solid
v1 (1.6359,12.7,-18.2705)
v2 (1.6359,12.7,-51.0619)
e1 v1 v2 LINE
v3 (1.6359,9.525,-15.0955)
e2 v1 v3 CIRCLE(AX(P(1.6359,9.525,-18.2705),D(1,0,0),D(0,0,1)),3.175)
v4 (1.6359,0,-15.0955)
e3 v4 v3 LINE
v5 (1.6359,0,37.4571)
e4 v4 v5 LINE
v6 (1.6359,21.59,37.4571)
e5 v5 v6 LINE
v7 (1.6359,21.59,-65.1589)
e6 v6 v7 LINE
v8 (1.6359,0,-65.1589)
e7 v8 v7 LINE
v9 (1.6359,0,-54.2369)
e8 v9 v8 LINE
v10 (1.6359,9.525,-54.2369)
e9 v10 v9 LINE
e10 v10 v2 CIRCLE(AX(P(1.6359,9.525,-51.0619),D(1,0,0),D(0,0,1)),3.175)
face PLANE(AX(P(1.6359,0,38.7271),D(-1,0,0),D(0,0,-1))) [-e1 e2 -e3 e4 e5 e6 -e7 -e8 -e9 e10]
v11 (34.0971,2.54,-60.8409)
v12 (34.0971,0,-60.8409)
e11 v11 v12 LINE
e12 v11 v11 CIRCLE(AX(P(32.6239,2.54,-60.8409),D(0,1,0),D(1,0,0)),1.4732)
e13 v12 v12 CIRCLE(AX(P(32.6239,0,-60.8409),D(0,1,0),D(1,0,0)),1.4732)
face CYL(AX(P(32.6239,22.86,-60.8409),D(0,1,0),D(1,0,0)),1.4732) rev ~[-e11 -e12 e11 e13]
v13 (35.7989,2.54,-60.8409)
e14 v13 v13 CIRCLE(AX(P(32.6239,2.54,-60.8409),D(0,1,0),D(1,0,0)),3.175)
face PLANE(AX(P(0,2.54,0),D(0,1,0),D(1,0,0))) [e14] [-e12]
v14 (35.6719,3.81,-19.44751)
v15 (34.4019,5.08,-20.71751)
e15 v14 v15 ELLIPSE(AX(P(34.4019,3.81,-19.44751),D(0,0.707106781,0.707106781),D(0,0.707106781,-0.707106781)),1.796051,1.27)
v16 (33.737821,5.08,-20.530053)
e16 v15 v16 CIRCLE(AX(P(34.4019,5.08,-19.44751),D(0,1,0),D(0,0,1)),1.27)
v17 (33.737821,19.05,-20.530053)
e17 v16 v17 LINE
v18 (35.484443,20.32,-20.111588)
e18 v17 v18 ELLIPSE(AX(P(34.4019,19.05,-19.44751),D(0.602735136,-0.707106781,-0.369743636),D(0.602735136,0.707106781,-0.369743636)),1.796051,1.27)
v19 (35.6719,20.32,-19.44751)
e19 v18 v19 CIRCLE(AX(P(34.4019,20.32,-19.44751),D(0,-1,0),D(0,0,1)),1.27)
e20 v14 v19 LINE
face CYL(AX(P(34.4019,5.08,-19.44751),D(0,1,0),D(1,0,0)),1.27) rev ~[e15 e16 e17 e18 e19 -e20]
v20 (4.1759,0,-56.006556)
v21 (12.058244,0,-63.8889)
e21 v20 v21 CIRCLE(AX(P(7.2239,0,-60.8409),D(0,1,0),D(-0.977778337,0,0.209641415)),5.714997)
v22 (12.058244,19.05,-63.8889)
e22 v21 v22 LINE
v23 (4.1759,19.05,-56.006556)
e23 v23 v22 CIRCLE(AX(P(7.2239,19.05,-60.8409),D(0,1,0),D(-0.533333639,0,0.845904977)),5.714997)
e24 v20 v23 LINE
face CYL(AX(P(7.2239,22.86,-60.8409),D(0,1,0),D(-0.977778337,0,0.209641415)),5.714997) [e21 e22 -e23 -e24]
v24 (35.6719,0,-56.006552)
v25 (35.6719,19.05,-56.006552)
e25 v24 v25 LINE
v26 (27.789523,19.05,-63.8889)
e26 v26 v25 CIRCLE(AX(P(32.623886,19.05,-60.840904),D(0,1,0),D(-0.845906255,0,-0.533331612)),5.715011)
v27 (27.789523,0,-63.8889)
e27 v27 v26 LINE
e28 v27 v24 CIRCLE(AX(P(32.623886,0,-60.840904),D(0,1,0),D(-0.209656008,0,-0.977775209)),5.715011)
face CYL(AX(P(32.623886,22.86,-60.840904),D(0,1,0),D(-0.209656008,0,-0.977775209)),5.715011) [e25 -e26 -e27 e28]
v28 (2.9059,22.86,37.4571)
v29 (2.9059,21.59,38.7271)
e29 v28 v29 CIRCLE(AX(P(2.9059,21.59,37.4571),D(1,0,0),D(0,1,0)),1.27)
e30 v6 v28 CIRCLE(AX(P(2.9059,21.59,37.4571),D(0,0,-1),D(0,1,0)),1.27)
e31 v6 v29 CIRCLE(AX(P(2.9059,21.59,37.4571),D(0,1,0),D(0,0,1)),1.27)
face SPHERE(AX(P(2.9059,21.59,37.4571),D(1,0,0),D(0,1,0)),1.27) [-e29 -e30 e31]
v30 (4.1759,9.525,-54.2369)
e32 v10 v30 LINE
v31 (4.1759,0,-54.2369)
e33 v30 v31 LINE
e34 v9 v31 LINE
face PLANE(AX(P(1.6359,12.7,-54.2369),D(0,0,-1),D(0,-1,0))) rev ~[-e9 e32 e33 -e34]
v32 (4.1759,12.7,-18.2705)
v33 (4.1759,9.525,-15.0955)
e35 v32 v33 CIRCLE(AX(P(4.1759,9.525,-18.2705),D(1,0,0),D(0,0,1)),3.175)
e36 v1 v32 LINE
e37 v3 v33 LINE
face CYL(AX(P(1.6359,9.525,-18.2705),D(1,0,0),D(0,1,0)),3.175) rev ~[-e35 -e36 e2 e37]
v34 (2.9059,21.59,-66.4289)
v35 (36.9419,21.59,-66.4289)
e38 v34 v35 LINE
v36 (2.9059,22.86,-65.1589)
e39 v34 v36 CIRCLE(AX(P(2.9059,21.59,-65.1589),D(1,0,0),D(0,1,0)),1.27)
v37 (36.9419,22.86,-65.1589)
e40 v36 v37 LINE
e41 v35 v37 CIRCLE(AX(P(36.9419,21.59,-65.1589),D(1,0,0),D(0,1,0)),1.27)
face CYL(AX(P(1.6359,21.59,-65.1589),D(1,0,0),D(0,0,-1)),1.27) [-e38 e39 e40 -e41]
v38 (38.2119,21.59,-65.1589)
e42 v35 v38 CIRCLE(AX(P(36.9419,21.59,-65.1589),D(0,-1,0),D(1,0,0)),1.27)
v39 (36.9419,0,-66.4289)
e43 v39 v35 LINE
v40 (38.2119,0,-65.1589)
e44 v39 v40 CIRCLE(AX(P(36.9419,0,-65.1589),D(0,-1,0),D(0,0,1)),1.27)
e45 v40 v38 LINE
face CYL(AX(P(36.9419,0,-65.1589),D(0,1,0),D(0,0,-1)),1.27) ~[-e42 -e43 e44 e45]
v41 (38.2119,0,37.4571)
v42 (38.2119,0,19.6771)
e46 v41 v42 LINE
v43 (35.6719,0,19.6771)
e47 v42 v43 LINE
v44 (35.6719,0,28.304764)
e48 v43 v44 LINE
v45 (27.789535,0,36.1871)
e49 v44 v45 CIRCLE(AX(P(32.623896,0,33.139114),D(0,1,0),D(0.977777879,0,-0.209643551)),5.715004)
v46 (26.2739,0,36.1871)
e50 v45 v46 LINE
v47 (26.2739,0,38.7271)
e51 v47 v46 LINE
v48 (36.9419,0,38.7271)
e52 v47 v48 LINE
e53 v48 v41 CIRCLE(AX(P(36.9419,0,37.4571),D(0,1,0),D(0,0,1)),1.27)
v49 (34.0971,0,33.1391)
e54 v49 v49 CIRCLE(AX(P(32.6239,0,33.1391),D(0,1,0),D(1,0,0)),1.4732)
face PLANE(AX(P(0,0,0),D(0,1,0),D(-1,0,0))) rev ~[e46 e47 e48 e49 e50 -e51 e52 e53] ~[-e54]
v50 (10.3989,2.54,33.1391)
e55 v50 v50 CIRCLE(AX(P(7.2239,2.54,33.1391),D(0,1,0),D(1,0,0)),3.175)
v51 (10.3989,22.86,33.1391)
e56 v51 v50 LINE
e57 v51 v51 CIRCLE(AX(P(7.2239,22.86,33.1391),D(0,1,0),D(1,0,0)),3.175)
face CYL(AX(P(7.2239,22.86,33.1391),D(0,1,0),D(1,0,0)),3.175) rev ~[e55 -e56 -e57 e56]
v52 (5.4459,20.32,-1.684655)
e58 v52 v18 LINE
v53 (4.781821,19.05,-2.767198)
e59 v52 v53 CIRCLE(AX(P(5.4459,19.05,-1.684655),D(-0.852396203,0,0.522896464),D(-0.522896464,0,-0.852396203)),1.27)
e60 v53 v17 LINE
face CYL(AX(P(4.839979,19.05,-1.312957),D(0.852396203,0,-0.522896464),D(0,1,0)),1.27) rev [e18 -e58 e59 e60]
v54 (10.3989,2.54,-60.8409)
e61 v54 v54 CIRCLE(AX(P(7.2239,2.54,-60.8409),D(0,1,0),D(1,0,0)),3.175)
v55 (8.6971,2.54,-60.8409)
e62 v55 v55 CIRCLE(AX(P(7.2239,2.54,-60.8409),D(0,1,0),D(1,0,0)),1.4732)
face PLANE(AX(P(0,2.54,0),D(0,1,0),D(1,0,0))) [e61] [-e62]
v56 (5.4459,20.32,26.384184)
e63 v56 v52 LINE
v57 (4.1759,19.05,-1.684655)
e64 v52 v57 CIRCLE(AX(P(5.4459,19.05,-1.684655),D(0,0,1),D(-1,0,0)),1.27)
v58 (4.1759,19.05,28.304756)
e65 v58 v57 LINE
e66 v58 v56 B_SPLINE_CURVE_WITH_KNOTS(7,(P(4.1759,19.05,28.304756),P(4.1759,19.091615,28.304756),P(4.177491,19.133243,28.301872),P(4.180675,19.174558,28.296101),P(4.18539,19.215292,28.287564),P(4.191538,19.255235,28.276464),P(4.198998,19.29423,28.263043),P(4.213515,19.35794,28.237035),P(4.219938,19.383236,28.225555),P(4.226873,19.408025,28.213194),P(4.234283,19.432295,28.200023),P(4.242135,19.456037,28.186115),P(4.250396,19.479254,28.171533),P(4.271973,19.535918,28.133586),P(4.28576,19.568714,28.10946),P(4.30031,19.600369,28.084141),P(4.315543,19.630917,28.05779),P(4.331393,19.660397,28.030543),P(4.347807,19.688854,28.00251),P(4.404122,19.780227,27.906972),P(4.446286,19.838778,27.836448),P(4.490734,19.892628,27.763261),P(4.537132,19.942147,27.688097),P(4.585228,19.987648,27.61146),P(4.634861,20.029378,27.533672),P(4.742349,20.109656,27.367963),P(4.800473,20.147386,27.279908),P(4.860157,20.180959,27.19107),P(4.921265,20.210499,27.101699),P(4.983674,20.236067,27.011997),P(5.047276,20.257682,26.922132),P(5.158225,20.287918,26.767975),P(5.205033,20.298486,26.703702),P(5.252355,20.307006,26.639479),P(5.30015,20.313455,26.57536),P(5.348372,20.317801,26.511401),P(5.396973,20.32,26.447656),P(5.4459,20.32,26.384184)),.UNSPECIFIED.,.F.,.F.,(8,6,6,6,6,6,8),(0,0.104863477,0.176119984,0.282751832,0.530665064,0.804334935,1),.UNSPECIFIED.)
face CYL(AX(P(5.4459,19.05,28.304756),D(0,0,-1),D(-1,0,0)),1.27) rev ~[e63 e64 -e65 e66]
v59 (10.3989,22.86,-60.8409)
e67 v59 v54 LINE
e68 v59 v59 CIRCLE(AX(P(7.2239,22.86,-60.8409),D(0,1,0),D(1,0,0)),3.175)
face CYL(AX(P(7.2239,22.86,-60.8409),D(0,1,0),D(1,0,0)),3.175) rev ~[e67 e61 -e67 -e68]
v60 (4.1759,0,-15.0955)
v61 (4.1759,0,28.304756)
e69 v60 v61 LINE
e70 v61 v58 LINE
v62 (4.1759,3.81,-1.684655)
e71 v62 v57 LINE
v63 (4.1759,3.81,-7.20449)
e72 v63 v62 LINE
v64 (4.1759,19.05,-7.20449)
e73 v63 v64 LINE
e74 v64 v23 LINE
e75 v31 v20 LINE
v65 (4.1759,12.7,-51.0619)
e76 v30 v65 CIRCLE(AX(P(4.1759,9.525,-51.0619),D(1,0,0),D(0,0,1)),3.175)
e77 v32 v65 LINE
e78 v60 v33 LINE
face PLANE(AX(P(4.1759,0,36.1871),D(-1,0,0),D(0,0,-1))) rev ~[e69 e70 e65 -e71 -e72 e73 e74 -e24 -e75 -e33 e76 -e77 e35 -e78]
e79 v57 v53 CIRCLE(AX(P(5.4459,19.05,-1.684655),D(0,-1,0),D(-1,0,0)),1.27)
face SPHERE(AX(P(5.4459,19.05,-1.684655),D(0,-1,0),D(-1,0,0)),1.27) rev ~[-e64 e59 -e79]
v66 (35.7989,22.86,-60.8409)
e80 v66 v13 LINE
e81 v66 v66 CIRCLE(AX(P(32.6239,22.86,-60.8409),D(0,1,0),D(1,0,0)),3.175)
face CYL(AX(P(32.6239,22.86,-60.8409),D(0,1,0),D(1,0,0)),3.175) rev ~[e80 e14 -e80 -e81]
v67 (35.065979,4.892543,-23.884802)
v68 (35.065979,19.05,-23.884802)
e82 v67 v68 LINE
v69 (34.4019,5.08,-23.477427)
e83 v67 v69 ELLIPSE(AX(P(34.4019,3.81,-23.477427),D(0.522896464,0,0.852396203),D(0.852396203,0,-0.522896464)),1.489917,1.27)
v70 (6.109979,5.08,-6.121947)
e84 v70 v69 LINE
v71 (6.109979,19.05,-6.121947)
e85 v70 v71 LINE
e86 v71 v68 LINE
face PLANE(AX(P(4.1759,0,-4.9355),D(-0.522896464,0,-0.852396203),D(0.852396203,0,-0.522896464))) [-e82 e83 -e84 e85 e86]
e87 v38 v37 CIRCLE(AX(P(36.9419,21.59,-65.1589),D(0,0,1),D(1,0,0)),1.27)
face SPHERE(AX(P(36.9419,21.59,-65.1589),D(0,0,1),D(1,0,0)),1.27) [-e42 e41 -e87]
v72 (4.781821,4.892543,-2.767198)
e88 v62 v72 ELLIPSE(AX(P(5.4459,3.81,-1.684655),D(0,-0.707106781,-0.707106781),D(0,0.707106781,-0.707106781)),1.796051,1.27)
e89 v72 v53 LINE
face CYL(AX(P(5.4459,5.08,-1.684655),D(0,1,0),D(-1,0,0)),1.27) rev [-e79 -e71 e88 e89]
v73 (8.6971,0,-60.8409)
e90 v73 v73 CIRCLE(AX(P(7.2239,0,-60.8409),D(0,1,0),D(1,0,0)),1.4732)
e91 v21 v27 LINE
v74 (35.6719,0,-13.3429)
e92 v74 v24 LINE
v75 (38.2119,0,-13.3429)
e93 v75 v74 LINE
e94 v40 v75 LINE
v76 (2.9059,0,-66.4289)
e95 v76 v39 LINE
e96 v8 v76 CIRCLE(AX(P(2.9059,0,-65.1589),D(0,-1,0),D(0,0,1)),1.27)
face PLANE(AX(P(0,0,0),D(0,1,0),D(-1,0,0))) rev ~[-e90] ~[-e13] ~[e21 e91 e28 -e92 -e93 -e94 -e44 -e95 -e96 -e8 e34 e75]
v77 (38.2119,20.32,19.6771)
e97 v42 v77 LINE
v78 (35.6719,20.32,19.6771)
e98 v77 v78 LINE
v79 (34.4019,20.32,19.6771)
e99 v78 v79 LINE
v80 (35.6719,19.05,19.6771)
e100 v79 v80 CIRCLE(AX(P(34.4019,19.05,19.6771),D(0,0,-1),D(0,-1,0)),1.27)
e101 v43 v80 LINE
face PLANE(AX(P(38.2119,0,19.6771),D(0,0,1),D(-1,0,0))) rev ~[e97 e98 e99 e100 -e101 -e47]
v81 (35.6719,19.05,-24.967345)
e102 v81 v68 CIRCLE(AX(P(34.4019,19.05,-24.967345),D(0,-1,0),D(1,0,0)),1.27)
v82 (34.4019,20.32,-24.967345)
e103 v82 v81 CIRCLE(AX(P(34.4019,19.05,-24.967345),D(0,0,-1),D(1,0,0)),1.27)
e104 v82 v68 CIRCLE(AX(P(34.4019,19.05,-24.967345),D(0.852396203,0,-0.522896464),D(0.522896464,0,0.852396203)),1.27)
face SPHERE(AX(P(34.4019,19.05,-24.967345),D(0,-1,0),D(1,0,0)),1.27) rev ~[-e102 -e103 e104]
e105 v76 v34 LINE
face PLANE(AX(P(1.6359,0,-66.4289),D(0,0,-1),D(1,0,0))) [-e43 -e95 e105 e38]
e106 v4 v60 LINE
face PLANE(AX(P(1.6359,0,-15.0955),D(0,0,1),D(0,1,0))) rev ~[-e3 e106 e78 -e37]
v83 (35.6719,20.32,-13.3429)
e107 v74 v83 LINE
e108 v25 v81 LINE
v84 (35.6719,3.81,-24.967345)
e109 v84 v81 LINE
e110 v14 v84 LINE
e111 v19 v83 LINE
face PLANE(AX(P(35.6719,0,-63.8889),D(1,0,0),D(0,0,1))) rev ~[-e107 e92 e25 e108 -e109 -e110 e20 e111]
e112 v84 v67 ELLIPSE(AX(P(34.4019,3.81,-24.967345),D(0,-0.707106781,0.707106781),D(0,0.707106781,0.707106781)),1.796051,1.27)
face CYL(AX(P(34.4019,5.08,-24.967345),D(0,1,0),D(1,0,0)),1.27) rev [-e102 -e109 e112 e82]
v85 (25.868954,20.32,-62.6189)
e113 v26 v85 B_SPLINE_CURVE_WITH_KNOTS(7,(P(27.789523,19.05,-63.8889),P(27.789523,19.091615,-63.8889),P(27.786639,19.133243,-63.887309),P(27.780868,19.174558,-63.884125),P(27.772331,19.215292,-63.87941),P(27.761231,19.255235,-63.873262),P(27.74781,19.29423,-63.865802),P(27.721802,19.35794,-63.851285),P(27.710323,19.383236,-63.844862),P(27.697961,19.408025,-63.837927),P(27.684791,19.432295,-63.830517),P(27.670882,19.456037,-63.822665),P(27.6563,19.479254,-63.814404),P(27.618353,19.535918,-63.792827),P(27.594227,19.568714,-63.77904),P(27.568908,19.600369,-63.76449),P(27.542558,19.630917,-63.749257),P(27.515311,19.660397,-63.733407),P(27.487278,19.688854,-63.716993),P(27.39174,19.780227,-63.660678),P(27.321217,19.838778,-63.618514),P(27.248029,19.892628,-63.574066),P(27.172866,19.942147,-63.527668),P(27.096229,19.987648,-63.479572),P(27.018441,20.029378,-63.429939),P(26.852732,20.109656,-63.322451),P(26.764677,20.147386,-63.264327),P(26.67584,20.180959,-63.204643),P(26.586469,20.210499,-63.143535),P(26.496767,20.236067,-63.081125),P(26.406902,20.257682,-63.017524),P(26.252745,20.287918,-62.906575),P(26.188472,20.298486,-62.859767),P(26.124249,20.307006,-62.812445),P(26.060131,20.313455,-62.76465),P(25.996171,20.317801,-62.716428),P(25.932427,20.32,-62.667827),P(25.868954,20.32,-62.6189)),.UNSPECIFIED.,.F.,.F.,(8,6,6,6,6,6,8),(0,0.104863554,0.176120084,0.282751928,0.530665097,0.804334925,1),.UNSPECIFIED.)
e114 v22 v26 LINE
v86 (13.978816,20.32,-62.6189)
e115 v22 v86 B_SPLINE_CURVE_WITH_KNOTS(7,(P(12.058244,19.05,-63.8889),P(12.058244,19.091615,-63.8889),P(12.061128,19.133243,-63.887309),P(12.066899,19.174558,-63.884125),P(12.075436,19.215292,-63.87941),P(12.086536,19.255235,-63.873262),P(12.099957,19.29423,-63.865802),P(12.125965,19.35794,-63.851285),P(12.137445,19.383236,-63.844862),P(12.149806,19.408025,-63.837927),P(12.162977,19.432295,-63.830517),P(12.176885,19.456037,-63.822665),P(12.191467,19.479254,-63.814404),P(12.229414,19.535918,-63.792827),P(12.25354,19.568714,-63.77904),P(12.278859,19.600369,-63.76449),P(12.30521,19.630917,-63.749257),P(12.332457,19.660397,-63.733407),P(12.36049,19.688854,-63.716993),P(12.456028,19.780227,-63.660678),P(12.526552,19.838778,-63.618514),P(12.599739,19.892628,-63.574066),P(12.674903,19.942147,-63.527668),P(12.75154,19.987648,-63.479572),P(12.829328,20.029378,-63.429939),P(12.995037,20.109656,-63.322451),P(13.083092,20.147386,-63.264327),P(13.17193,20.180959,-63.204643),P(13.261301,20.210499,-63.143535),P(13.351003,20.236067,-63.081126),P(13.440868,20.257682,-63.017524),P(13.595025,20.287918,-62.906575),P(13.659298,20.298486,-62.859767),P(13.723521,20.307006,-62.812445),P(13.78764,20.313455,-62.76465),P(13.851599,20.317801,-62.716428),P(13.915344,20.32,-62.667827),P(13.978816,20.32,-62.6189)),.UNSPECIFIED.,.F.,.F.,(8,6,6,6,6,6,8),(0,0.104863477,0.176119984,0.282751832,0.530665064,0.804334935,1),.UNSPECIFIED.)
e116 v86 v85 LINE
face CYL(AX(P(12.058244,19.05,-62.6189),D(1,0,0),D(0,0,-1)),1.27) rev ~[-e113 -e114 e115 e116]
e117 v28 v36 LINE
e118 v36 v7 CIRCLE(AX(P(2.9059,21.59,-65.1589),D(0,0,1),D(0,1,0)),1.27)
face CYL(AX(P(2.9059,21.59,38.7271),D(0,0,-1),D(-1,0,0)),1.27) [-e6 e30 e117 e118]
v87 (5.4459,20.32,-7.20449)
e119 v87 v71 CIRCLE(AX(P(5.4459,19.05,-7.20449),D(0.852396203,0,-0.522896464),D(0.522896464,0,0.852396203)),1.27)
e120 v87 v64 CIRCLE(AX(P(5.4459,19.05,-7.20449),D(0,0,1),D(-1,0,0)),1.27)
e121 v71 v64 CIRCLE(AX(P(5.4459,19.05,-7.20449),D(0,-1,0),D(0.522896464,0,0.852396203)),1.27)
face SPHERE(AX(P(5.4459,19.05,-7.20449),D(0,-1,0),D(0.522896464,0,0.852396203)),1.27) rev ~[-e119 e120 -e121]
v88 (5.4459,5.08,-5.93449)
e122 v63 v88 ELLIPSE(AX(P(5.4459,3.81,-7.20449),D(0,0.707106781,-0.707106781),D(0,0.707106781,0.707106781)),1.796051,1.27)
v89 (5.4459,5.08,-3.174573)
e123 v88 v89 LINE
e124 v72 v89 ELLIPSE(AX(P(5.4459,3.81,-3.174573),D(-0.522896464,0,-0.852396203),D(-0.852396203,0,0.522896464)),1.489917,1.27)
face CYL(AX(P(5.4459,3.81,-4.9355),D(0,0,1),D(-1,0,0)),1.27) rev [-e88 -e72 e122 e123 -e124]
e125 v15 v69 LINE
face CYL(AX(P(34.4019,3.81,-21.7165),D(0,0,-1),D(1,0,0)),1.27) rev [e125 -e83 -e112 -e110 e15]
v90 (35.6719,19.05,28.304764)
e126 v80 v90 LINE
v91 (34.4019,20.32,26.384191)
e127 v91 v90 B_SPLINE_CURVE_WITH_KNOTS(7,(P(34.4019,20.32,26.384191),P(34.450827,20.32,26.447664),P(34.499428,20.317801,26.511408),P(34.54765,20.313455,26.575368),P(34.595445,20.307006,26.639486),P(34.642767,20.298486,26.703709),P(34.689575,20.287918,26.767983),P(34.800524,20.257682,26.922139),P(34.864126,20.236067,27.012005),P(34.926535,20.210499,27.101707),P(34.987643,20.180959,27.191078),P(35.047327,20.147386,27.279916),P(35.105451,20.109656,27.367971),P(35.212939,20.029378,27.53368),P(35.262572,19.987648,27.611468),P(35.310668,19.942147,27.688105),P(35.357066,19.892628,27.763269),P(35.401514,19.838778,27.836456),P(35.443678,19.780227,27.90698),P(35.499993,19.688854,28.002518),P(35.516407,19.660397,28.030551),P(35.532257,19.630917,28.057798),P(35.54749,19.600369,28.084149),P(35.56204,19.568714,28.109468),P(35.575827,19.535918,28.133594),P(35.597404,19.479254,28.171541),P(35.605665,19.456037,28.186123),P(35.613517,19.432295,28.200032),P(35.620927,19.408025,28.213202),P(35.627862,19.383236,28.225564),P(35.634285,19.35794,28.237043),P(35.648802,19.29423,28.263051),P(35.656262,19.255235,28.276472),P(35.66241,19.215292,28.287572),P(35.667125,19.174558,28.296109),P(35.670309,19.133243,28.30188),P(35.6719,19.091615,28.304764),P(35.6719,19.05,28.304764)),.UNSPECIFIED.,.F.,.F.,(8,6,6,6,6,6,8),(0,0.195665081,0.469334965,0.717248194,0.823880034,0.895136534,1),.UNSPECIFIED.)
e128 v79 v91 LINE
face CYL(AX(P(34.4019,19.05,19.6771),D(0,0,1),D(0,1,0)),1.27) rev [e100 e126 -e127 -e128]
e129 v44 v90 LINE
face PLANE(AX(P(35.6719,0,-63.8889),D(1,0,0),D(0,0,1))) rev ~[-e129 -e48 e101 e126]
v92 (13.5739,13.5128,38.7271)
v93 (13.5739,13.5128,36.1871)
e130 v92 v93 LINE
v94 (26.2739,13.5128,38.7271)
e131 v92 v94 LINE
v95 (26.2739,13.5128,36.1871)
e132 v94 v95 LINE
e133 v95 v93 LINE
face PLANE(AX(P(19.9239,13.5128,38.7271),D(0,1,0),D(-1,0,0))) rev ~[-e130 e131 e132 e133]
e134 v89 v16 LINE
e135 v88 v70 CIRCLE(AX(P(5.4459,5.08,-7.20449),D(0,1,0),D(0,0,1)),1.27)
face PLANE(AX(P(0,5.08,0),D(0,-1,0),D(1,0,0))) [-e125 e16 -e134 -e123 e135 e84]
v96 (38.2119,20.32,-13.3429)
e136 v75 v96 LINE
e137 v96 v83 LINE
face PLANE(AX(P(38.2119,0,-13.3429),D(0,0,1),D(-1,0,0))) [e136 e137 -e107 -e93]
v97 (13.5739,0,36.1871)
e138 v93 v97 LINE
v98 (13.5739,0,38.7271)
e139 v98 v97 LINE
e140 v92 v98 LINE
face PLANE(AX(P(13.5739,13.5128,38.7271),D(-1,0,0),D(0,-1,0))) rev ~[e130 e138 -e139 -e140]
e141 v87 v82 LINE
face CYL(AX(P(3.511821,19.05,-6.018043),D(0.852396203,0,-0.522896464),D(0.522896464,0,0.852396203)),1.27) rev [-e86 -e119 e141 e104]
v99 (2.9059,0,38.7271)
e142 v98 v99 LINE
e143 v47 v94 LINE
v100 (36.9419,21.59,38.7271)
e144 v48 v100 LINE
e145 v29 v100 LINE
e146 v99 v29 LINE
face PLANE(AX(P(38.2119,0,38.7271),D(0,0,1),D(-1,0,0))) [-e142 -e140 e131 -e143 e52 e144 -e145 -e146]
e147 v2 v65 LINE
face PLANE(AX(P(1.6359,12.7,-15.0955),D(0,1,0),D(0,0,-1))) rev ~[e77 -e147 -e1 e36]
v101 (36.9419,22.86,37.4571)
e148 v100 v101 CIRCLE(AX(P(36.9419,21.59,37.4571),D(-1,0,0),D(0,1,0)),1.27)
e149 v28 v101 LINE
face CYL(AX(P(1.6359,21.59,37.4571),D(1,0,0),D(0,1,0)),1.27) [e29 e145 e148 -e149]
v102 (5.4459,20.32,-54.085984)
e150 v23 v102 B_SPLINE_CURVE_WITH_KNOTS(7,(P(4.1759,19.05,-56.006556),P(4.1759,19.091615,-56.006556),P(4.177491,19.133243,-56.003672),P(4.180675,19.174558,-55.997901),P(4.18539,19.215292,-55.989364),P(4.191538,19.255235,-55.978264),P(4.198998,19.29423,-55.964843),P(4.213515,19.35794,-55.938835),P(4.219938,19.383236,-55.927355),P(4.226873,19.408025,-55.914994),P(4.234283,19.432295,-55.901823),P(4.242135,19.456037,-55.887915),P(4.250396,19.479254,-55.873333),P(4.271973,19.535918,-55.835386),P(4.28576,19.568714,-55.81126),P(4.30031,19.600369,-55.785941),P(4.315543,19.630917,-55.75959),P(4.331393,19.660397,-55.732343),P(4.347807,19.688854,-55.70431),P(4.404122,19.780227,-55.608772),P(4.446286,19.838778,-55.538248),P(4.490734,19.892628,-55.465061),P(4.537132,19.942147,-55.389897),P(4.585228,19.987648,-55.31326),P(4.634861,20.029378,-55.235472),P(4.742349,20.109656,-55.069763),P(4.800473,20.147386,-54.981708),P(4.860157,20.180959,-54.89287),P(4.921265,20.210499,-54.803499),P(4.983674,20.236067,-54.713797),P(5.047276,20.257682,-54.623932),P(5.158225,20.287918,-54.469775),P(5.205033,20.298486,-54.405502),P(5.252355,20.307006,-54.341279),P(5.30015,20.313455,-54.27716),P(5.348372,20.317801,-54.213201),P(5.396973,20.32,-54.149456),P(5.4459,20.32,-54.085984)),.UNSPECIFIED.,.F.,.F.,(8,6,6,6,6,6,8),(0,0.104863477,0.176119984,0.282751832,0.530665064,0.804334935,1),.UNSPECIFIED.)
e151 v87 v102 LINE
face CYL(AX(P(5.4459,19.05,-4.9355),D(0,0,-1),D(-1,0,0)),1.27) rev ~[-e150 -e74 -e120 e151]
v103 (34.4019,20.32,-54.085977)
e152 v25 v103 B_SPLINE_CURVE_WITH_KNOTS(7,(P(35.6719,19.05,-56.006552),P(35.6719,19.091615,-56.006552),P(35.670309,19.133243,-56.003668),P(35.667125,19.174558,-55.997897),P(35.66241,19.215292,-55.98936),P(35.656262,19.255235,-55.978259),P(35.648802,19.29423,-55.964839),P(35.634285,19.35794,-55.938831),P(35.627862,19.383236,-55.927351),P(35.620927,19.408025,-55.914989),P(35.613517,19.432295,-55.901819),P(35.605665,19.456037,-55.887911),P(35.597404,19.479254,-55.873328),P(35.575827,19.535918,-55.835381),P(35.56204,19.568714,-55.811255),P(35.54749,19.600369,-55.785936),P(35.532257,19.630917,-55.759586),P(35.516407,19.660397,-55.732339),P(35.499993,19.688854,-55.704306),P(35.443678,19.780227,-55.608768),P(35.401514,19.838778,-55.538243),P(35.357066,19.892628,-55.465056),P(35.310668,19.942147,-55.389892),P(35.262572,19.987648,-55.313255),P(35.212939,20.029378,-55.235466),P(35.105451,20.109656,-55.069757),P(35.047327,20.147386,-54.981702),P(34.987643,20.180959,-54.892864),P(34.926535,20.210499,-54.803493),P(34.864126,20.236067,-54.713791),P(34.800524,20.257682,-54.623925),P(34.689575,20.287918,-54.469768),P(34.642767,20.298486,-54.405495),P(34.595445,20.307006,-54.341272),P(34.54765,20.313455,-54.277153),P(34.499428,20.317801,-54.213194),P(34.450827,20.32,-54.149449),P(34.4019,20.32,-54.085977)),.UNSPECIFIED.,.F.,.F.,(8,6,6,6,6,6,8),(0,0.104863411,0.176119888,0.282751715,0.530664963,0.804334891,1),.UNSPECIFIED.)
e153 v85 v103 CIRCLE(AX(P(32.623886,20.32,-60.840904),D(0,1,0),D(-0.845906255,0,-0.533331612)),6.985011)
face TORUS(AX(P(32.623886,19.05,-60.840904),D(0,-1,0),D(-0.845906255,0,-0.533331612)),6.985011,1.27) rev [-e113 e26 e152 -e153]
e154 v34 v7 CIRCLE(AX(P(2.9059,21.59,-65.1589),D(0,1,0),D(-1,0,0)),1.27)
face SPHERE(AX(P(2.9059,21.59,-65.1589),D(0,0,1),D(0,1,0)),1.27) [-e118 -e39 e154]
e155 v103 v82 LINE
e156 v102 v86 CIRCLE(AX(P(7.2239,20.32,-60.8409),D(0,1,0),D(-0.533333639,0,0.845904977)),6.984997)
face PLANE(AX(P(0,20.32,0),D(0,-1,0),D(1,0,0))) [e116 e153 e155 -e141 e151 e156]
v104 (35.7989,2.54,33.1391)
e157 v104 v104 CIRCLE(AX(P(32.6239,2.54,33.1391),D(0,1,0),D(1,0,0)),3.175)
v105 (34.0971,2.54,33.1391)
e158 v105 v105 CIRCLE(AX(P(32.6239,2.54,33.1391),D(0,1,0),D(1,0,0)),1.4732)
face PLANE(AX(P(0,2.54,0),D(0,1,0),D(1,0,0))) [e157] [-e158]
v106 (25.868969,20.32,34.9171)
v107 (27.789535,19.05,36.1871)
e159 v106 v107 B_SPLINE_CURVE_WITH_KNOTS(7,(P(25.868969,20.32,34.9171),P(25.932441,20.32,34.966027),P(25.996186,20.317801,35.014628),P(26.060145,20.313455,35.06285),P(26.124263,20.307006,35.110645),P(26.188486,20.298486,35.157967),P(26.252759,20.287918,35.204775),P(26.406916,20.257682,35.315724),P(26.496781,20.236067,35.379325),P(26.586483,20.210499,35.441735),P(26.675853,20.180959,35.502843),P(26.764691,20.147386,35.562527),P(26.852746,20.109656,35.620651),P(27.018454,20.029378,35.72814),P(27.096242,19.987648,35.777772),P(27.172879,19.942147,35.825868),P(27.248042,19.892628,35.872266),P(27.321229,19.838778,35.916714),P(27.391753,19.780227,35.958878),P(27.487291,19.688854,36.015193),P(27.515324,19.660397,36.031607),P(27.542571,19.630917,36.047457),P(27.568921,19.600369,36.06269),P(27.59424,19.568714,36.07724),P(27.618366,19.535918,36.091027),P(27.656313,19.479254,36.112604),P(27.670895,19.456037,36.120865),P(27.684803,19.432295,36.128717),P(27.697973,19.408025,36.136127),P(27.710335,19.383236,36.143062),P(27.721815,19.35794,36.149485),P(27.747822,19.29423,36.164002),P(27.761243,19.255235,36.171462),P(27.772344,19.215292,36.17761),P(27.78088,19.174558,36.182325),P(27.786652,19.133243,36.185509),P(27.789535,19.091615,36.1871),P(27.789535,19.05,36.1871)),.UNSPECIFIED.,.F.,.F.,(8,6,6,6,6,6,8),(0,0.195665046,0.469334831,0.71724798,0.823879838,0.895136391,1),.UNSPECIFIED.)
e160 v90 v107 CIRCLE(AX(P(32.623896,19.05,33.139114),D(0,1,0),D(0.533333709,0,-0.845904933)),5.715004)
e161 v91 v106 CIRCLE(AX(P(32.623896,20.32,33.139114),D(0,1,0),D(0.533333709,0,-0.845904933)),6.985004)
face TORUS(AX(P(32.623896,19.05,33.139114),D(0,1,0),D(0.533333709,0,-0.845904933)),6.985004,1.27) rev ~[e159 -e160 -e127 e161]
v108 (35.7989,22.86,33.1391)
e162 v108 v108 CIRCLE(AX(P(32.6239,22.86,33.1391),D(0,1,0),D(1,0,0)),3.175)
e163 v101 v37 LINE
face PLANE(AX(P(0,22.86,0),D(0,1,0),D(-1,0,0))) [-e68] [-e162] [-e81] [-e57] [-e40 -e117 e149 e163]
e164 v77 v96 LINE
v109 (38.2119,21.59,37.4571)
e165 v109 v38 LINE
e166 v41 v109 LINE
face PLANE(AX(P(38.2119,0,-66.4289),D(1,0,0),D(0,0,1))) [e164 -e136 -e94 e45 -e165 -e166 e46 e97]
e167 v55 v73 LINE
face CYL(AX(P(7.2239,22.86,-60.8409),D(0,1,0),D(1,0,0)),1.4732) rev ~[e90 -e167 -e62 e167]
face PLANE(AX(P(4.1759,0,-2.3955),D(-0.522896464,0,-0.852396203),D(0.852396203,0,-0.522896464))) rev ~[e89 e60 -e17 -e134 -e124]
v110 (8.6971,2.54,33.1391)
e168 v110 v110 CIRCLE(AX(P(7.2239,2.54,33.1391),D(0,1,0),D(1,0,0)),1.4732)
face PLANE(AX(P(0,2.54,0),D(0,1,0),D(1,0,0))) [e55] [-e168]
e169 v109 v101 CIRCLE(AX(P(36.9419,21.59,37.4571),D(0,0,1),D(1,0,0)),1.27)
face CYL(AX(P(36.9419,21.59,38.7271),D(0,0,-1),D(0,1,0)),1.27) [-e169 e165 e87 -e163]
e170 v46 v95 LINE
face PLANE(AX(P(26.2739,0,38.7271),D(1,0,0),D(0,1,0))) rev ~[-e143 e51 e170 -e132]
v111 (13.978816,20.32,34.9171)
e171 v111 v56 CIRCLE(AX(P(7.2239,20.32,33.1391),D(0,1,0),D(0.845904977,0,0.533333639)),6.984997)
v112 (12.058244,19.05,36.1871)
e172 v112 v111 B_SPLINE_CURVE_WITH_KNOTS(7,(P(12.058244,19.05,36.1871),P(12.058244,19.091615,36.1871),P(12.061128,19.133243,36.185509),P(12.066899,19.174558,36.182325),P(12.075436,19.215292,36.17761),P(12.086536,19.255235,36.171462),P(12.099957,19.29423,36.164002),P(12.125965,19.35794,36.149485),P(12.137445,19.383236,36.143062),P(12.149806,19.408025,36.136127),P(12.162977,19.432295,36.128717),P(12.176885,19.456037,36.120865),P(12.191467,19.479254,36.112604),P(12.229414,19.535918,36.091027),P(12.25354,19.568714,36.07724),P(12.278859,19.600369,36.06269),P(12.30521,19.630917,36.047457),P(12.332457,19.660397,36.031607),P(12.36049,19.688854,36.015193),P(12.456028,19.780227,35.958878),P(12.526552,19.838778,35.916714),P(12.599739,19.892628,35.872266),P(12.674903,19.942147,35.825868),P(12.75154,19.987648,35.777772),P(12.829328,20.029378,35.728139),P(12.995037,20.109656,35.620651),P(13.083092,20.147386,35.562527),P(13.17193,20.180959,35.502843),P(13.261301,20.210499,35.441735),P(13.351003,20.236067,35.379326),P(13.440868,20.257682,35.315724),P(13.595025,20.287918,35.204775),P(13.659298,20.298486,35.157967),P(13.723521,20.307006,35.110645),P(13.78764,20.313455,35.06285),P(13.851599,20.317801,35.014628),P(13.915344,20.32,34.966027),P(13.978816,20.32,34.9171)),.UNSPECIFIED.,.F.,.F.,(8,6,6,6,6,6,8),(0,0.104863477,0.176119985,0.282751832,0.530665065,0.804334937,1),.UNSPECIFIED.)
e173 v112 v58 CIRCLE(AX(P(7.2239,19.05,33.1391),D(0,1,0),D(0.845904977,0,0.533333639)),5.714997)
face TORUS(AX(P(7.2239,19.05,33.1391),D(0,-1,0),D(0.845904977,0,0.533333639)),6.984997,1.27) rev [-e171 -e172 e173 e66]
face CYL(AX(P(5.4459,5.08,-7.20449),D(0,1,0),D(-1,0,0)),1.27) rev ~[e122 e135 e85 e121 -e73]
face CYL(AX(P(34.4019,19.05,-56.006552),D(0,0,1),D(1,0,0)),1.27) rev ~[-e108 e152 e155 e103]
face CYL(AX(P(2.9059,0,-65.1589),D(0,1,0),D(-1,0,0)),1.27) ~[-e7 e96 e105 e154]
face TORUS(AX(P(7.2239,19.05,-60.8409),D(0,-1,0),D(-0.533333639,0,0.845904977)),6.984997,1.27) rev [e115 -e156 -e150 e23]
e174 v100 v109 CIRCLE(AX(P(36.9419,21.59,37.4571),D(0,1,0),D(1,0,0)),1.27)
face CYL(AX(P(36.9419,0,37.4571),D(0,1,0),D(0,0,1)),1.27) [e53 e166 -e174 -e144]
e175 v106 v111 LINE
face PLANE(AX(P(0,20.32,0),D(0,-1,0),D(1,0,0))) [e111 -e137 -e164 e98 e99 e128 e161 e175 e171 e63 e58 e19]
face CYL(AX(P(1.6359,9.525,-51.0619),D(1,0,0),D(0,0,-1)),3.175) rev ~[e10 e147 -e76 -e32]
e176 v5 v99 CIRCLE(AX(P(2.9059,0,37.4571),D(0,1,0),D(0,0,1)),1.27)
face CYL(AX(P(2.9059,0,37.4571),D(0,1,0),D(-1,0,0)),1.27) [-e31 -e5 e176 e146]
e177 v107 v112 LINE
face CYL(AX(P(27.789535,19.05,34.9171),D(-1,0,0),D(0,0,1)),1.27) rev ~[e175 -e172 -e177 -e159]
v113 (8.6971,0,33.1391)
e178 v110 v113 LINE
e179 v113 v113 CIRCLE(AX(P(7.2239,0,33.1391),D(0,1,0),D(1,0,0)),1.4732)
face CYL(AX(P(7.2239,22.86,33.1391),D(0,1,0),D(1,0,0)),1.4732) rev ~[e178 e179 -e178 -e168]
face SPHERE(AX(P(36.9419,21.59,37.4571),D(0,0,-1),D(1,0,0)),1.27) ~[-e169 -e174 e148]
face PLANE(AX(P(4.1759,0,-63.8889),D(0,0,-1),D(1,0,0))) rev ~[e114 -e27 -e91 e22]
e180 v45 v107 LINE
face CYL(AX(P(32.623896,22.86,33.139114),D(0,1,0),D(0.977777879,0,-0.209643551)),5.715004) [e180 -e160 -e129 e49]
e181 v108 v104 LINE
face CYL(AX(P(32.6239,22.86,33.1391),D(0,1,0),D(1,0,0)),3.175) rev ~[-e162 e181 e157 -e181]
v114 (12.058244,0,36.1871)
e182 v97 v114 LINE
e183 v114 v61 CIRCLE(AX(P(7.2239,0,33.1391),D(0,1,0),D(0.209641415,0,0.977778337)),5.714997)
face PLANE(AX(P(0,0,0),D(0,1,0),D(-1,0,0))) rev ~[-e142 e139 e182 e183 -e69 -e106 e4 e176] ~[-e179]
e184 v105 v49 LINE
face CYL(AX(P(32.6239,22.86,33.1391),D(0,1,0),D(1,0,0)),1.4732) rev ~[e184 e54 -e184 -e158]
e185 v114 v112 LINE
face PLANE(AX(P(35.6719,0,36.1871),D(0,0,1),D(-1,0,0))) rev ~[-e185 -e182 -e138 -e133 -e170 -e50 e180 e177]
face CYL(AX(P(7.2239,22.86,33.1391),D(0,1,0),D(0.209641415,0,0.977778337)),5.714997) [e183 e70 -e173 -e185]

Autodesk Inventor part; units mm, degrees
ref_plane "YZ Plane" through (0, 0, 0) normal (1, 0, 0) x (0, 1, 0)
ref_plane "XZ Plane" through (0, 0, 0) normal (0, 1, 0) x (-1, 0, 0)
ref_plane "XY Plane" through (0, 0, 0) normal (0, 0, 1) x (1, 0, 0)
sketch "Sketch1" plane through (0, 0, 0) normal (0, 1, 0) x (-1, 0, 0)
  line L0 (-4.1759, -63.8889) -> (-35.6719, -63.8889)
  line L1 (-35.6719, -63.8889) -> (-35.6719, 36.1871)
  line L2 (-35.6719, 36.1871) -> (-4.1759, 36.1871)
  line L3 (-4.1759, 36.1871) -> (-4.1759, -63.8889)
  line L4 (-1.6359, -66.4289) -> (-38.2119, -66.4289)
  line L5 (-38.2119, -66.4289) -> (-38.2119, 38.7271)
  line L6 (-38.2119, 38.7271) -> (-1.6359, 38.7271)
  line L7 (-1.6359, 38.7271) -> (-1.6359, -66.4289)
  point P0 (0, 0)
  dimension "d0" = 100.076
  dimension "d1" = 31.496
  dimension "d2" = 2.54
  dimension "d3" = 2.54
  dimension "d4" = 2.54
  dimension "d5" = 2.54
extrude "Extrusion1" add sketch "Sketch1" along normal blind 22.86 contours L0 L1 L2 L3 | L4 L5 L6 L7
extrude "Extrusion2" cut sketch "Sketch1" along normal blind 20.32 contours L0 L1 L2 L3
sketch "Sketch2" plane through (0, 0, 0) normal (0, -1, 0) x (1, 0, 0)
  line L0 (35.6719, 36.1871) -> (35.6719, -63.8889) projected
  line L1 (38.2119, 38.7271) -> (38.2119, -66.4289) projected
  line L2 (38.2119, 19.6771) -> (35.6719, 19.6771)
  line L3 (38.2119, -13.3429) -> (35.6719, -13.3429)
  line L4 (4.1759, 36.1871) -> (35.6719, 36.1871) projected
  point P0 (0, 0)
  point P1 (36.9419, 19.6771)
  point P2 (36.9419, -13.3429)
  dimension "d10" = 16.51
  dimension "d11" = 33.02
extrude "Extrusion3" cut sketch "Sketch2" against normal blind 20.32
sketch "Sketch3" plane through (1.6359, 0, 38.7271) normal (0, 0, 1) x (1, 0, 0)
  line L0 (11.938, 0) -> (24.638, 0)
  line L1 (24.638, 0) -> (24.638, 13.5128)
  line L2 (24.638, 13.5128) -> (11.938, 13.5128)
  line L3 (11.938, 13.5128) -> (11.938, 0)
  line L4 (0, 0) -> (0, 22.86) projected
  line L5 (36.576, 0) -> (36.576, 22.86) projected
  line L6 (36.576, 22.86) -> (0, 22.86) projected
  line L7 (18.288, 22.86) -> (18.288, 0)
  point P0 (-1.6359, 0)
  dimension "d16" = 13.5128
  dimension "d17" = 12.7
  dimension "d18" = 12.7
extrude "Extrusion4" cut sketch "Sketch3" against normal blind 2.54
sketch "Sketch4" plane through (1.6359, 0, -66.4289) normal (-1, 0, 0) x (0, 0, 1)
  line L0 (12.192, 0) -> (51.3334, 0)
  line L1 (51.3334, 0) -> (51.3334, 12.7)
  line L2 (51.3334, 12.7) -> (12.192, 12.7)
  line L3 (12.192, 12.7) -> (12.192, 0)
  line L4 (0, 0) -> (0, 22.86) projected
  point P0 (66.4289, 0)
  point P1 (31.7627, 0)
  dimension "d21" = 12.192
  dimension "d22" = 12.7
  dimension "d23" = 39.1414
extrude "Extrusion5" cut sketch "Sketch4" against normal blind 2.54
sketch "Sketch5" plane through (0, 22.86, 0) normal (0, 1, 0) x (1, 0, 0)
  circle A0 centre (32.6239, -33.1391) radius 1.4732
  line L0 (38.2119, -38.7271) -> (38.2119, 66.4289) projected
  line L1 (1.6359, -38.7271) -> (38.2119, -38.7271) projected
  line L2 (1.6359, 66.4289) -> (1.6359, -38.7271) projected
  line L3 (1.6359, 13.8509) -> (38.2119, 13.8509)
  line L4 (19.9239, 66.4289) -> (19.9239, -38.7271)
  circle A1 centre (7.2239, -33.1391) radius 1.4732
  circle A2 centre (32.6239, 60.8409) radius 1.4732
  circle A3 centre (7.2239, 60.8409) radius 1.4732
  circle A4 centre (32.6239, -33.1391) radius 3.175
  line L5 (38.2119, -31.941) -> (38.2119, -34.3372)
  line L6 (31.4257, -38.7271) -> (33.822, -38.7271)
  arc A5 (38.2119, -31.941) -> (31.4257, -38.7271) centre (32.6239, -33.1391) ccw
  line L7 (38.2119, -34.3372) -> (38.2119, -38.7271)
  line L8 (38.2119, -38.7271) -> (33.822, -38.7271)
  line L9 (38.2119, -38.7271) -> (1.6359, -38.7271)
  circle A6 centre (7.2239, -33.1391) radius 3.175
  line L10 (1.6359, -31.941) -> (1.6359, -34.3372)
  arc A7 (8.422, -38.7271) -> (1.6359, -31.941) centre (7.2239, -33.1391) ccw
  line L11 (1.6359, -34.3372) -> (1.6359, -38.7271)
  line L12 (38.2119, 66.4289) -> (38.2119, -38.7271)
  line L13 (1.6359, -38.7271) -> (1.6359, 66.4289)
  circle A8 centre (32.6239, 60.8409) radius 3.175
  arc A9 (31.4257, 66.4289) -> (38.2119, 59.6428) centre (32.6239, 60.8409) ccw
  circle A10 centre (7.2239, 60.8409) radius 3.175
  arc A11 (1.6359, 59.6428) -> (8.422, 66.4289) centre (7.2239, 60.8409) ccw
  line L14 (38.2119, 66.4289) -> (1.6359, 66.4289)
  point P0 (0, 0)
  point P1 (1.6359, 59.6428)
  point P2 (38.2119, 59.6428)
  point P3 (8.422, -38.7271)
  point P4 (1.6359, -31.941)
  dimension "d27" = 2.9464
  dimension "d28" = 5.588
  dimension "d29" = 5.588
  dimension "d30" = 6.35
extrude "Extrusion6" add sketch "Sketch5" against normal up to surface (22.86 mm away) contours A0 | L1 A5 L0 | A9 L14 L0 | L1 L2 A7 | L2 L14 A11 | A1 | A2 | A3 | A4 | A6 | A8 | A10
extrude "Extrusion7" cut sketch "Sketch5" against normal blind 20.32 contours A0 | A1 | A2 | A3 | A4 | A6 | A8 | A10
extrude "Extrusion8" cut sketch "Sketch5" against normal blind 22.86 contours A0 | A1 | A2 | A3
fillet "Fillet2" radius 3.175 2 edges at (2.9059, 12.7, -54.2369) (2.9059, 12.7, -15.0955)
fillet "Fillet3" radius 1.27 8 edges at (38.2119, 22.86, -13.8509) (38.2119, 11.43, 38.7271) (19.9239, 22.86, 38.7271) (1.6359, 22.86, -13.8509) (38.2119, 11.43, -66.4289) (19.9239, 22.86, -66.4289) (1.6359, 11.43, 38.7271) (1.6359, 11.43, -66.4289)
sketch "Sketch8" plane through (0, 0, 0) normal (0, -1, 0) x (1, 0, 0)
  line L0 (1.6359, -15.0955) -> (4.1759, -15.0955) projected
  line L1 (4.1759, -15.0955) -> (17.1299, -15.0955)
  line L2 (17.1299, -15.0955) -> (17.1299, -54.5295)
  line L3 (17.1299, -54.5295) -> (4.1759, -54.5295)
  line L4 (4.1759, -54.5295) -> (4.1759, -15.0955)
  line L5 (35.6719, -13.3429) -> (35.6719, -56.0065) projected
  line L6 (35.6719, -13.3429) -> (24.7499, -13.3429)
  line L7 (24.7499, -13.3429) -> (24.7499, 19.5815)
  line L8 (24.7499, 19.5815) -> (35.6719, 19.5815)
  line L9 (35.6719, 19.5815) -> (35.6719, -13.3429)
  line L10 (4.1759, -4.9355) -> (35.6719, -24.2565)
  line L11 (4.1759, -4.9355) -> (4.1759, -2.3955)
  line L12 (2.9059, 37.4571) -> (2.9059, -65.1589) projected
  line L13 (35.6719, -24.2565) -> (35.6719, -21.7165)
  line L14 (4.1759, -2.3955) -> (35.6719, -21.7165)
  point P0 (0, 0)
  point P1 (24.7499, 3.1193)
  dimension "d44" = 10.922
  dimension "d45" = 12.954
  dimension "d46" = 2.54
  dimension "d47" = 2.54
  dimension "d48" = 31.75
  dimension "d49" = 10.16
extrude "Extrusion11" add sketch "Sketch8" against normal blind 20.32 contours L5 L10 L11 L14
extrude "Extrusion12" cut sketch "Sketch8" against normal blind 5.08 contours L5 L10 L11 L14
fillet "Fillet4" radius 1.27 18 edges at (4.1759, 12.7, -2.3955) (4.1759, 20.32, 12.9546) (19.9239, 20.32, -12.056) (4.1759, 5.08, -3.6655) (19.9239, 20.32, -14.596) (35.6719, 12.7, -24.2565) (35.6719, 5.08, -22.9865) (35.6719, 20.32, -40.1315) (35.6719, 20.32, 23.9909) (28.5827, 20.32, 29.098) (19.9239, 20.32, 36.1871) (19.9239, 20.32, -63.8889) (28.5827, 20.32, -56.7998) (11.265, 20.32, -56.7998) (4.1759, 20.32, -30.471) (11.265, 20.32, 29.098) (4.1759, 12.7, -4.9355) (35.6719, 12.7, -21.7165)
properties part number "CaseTop"
